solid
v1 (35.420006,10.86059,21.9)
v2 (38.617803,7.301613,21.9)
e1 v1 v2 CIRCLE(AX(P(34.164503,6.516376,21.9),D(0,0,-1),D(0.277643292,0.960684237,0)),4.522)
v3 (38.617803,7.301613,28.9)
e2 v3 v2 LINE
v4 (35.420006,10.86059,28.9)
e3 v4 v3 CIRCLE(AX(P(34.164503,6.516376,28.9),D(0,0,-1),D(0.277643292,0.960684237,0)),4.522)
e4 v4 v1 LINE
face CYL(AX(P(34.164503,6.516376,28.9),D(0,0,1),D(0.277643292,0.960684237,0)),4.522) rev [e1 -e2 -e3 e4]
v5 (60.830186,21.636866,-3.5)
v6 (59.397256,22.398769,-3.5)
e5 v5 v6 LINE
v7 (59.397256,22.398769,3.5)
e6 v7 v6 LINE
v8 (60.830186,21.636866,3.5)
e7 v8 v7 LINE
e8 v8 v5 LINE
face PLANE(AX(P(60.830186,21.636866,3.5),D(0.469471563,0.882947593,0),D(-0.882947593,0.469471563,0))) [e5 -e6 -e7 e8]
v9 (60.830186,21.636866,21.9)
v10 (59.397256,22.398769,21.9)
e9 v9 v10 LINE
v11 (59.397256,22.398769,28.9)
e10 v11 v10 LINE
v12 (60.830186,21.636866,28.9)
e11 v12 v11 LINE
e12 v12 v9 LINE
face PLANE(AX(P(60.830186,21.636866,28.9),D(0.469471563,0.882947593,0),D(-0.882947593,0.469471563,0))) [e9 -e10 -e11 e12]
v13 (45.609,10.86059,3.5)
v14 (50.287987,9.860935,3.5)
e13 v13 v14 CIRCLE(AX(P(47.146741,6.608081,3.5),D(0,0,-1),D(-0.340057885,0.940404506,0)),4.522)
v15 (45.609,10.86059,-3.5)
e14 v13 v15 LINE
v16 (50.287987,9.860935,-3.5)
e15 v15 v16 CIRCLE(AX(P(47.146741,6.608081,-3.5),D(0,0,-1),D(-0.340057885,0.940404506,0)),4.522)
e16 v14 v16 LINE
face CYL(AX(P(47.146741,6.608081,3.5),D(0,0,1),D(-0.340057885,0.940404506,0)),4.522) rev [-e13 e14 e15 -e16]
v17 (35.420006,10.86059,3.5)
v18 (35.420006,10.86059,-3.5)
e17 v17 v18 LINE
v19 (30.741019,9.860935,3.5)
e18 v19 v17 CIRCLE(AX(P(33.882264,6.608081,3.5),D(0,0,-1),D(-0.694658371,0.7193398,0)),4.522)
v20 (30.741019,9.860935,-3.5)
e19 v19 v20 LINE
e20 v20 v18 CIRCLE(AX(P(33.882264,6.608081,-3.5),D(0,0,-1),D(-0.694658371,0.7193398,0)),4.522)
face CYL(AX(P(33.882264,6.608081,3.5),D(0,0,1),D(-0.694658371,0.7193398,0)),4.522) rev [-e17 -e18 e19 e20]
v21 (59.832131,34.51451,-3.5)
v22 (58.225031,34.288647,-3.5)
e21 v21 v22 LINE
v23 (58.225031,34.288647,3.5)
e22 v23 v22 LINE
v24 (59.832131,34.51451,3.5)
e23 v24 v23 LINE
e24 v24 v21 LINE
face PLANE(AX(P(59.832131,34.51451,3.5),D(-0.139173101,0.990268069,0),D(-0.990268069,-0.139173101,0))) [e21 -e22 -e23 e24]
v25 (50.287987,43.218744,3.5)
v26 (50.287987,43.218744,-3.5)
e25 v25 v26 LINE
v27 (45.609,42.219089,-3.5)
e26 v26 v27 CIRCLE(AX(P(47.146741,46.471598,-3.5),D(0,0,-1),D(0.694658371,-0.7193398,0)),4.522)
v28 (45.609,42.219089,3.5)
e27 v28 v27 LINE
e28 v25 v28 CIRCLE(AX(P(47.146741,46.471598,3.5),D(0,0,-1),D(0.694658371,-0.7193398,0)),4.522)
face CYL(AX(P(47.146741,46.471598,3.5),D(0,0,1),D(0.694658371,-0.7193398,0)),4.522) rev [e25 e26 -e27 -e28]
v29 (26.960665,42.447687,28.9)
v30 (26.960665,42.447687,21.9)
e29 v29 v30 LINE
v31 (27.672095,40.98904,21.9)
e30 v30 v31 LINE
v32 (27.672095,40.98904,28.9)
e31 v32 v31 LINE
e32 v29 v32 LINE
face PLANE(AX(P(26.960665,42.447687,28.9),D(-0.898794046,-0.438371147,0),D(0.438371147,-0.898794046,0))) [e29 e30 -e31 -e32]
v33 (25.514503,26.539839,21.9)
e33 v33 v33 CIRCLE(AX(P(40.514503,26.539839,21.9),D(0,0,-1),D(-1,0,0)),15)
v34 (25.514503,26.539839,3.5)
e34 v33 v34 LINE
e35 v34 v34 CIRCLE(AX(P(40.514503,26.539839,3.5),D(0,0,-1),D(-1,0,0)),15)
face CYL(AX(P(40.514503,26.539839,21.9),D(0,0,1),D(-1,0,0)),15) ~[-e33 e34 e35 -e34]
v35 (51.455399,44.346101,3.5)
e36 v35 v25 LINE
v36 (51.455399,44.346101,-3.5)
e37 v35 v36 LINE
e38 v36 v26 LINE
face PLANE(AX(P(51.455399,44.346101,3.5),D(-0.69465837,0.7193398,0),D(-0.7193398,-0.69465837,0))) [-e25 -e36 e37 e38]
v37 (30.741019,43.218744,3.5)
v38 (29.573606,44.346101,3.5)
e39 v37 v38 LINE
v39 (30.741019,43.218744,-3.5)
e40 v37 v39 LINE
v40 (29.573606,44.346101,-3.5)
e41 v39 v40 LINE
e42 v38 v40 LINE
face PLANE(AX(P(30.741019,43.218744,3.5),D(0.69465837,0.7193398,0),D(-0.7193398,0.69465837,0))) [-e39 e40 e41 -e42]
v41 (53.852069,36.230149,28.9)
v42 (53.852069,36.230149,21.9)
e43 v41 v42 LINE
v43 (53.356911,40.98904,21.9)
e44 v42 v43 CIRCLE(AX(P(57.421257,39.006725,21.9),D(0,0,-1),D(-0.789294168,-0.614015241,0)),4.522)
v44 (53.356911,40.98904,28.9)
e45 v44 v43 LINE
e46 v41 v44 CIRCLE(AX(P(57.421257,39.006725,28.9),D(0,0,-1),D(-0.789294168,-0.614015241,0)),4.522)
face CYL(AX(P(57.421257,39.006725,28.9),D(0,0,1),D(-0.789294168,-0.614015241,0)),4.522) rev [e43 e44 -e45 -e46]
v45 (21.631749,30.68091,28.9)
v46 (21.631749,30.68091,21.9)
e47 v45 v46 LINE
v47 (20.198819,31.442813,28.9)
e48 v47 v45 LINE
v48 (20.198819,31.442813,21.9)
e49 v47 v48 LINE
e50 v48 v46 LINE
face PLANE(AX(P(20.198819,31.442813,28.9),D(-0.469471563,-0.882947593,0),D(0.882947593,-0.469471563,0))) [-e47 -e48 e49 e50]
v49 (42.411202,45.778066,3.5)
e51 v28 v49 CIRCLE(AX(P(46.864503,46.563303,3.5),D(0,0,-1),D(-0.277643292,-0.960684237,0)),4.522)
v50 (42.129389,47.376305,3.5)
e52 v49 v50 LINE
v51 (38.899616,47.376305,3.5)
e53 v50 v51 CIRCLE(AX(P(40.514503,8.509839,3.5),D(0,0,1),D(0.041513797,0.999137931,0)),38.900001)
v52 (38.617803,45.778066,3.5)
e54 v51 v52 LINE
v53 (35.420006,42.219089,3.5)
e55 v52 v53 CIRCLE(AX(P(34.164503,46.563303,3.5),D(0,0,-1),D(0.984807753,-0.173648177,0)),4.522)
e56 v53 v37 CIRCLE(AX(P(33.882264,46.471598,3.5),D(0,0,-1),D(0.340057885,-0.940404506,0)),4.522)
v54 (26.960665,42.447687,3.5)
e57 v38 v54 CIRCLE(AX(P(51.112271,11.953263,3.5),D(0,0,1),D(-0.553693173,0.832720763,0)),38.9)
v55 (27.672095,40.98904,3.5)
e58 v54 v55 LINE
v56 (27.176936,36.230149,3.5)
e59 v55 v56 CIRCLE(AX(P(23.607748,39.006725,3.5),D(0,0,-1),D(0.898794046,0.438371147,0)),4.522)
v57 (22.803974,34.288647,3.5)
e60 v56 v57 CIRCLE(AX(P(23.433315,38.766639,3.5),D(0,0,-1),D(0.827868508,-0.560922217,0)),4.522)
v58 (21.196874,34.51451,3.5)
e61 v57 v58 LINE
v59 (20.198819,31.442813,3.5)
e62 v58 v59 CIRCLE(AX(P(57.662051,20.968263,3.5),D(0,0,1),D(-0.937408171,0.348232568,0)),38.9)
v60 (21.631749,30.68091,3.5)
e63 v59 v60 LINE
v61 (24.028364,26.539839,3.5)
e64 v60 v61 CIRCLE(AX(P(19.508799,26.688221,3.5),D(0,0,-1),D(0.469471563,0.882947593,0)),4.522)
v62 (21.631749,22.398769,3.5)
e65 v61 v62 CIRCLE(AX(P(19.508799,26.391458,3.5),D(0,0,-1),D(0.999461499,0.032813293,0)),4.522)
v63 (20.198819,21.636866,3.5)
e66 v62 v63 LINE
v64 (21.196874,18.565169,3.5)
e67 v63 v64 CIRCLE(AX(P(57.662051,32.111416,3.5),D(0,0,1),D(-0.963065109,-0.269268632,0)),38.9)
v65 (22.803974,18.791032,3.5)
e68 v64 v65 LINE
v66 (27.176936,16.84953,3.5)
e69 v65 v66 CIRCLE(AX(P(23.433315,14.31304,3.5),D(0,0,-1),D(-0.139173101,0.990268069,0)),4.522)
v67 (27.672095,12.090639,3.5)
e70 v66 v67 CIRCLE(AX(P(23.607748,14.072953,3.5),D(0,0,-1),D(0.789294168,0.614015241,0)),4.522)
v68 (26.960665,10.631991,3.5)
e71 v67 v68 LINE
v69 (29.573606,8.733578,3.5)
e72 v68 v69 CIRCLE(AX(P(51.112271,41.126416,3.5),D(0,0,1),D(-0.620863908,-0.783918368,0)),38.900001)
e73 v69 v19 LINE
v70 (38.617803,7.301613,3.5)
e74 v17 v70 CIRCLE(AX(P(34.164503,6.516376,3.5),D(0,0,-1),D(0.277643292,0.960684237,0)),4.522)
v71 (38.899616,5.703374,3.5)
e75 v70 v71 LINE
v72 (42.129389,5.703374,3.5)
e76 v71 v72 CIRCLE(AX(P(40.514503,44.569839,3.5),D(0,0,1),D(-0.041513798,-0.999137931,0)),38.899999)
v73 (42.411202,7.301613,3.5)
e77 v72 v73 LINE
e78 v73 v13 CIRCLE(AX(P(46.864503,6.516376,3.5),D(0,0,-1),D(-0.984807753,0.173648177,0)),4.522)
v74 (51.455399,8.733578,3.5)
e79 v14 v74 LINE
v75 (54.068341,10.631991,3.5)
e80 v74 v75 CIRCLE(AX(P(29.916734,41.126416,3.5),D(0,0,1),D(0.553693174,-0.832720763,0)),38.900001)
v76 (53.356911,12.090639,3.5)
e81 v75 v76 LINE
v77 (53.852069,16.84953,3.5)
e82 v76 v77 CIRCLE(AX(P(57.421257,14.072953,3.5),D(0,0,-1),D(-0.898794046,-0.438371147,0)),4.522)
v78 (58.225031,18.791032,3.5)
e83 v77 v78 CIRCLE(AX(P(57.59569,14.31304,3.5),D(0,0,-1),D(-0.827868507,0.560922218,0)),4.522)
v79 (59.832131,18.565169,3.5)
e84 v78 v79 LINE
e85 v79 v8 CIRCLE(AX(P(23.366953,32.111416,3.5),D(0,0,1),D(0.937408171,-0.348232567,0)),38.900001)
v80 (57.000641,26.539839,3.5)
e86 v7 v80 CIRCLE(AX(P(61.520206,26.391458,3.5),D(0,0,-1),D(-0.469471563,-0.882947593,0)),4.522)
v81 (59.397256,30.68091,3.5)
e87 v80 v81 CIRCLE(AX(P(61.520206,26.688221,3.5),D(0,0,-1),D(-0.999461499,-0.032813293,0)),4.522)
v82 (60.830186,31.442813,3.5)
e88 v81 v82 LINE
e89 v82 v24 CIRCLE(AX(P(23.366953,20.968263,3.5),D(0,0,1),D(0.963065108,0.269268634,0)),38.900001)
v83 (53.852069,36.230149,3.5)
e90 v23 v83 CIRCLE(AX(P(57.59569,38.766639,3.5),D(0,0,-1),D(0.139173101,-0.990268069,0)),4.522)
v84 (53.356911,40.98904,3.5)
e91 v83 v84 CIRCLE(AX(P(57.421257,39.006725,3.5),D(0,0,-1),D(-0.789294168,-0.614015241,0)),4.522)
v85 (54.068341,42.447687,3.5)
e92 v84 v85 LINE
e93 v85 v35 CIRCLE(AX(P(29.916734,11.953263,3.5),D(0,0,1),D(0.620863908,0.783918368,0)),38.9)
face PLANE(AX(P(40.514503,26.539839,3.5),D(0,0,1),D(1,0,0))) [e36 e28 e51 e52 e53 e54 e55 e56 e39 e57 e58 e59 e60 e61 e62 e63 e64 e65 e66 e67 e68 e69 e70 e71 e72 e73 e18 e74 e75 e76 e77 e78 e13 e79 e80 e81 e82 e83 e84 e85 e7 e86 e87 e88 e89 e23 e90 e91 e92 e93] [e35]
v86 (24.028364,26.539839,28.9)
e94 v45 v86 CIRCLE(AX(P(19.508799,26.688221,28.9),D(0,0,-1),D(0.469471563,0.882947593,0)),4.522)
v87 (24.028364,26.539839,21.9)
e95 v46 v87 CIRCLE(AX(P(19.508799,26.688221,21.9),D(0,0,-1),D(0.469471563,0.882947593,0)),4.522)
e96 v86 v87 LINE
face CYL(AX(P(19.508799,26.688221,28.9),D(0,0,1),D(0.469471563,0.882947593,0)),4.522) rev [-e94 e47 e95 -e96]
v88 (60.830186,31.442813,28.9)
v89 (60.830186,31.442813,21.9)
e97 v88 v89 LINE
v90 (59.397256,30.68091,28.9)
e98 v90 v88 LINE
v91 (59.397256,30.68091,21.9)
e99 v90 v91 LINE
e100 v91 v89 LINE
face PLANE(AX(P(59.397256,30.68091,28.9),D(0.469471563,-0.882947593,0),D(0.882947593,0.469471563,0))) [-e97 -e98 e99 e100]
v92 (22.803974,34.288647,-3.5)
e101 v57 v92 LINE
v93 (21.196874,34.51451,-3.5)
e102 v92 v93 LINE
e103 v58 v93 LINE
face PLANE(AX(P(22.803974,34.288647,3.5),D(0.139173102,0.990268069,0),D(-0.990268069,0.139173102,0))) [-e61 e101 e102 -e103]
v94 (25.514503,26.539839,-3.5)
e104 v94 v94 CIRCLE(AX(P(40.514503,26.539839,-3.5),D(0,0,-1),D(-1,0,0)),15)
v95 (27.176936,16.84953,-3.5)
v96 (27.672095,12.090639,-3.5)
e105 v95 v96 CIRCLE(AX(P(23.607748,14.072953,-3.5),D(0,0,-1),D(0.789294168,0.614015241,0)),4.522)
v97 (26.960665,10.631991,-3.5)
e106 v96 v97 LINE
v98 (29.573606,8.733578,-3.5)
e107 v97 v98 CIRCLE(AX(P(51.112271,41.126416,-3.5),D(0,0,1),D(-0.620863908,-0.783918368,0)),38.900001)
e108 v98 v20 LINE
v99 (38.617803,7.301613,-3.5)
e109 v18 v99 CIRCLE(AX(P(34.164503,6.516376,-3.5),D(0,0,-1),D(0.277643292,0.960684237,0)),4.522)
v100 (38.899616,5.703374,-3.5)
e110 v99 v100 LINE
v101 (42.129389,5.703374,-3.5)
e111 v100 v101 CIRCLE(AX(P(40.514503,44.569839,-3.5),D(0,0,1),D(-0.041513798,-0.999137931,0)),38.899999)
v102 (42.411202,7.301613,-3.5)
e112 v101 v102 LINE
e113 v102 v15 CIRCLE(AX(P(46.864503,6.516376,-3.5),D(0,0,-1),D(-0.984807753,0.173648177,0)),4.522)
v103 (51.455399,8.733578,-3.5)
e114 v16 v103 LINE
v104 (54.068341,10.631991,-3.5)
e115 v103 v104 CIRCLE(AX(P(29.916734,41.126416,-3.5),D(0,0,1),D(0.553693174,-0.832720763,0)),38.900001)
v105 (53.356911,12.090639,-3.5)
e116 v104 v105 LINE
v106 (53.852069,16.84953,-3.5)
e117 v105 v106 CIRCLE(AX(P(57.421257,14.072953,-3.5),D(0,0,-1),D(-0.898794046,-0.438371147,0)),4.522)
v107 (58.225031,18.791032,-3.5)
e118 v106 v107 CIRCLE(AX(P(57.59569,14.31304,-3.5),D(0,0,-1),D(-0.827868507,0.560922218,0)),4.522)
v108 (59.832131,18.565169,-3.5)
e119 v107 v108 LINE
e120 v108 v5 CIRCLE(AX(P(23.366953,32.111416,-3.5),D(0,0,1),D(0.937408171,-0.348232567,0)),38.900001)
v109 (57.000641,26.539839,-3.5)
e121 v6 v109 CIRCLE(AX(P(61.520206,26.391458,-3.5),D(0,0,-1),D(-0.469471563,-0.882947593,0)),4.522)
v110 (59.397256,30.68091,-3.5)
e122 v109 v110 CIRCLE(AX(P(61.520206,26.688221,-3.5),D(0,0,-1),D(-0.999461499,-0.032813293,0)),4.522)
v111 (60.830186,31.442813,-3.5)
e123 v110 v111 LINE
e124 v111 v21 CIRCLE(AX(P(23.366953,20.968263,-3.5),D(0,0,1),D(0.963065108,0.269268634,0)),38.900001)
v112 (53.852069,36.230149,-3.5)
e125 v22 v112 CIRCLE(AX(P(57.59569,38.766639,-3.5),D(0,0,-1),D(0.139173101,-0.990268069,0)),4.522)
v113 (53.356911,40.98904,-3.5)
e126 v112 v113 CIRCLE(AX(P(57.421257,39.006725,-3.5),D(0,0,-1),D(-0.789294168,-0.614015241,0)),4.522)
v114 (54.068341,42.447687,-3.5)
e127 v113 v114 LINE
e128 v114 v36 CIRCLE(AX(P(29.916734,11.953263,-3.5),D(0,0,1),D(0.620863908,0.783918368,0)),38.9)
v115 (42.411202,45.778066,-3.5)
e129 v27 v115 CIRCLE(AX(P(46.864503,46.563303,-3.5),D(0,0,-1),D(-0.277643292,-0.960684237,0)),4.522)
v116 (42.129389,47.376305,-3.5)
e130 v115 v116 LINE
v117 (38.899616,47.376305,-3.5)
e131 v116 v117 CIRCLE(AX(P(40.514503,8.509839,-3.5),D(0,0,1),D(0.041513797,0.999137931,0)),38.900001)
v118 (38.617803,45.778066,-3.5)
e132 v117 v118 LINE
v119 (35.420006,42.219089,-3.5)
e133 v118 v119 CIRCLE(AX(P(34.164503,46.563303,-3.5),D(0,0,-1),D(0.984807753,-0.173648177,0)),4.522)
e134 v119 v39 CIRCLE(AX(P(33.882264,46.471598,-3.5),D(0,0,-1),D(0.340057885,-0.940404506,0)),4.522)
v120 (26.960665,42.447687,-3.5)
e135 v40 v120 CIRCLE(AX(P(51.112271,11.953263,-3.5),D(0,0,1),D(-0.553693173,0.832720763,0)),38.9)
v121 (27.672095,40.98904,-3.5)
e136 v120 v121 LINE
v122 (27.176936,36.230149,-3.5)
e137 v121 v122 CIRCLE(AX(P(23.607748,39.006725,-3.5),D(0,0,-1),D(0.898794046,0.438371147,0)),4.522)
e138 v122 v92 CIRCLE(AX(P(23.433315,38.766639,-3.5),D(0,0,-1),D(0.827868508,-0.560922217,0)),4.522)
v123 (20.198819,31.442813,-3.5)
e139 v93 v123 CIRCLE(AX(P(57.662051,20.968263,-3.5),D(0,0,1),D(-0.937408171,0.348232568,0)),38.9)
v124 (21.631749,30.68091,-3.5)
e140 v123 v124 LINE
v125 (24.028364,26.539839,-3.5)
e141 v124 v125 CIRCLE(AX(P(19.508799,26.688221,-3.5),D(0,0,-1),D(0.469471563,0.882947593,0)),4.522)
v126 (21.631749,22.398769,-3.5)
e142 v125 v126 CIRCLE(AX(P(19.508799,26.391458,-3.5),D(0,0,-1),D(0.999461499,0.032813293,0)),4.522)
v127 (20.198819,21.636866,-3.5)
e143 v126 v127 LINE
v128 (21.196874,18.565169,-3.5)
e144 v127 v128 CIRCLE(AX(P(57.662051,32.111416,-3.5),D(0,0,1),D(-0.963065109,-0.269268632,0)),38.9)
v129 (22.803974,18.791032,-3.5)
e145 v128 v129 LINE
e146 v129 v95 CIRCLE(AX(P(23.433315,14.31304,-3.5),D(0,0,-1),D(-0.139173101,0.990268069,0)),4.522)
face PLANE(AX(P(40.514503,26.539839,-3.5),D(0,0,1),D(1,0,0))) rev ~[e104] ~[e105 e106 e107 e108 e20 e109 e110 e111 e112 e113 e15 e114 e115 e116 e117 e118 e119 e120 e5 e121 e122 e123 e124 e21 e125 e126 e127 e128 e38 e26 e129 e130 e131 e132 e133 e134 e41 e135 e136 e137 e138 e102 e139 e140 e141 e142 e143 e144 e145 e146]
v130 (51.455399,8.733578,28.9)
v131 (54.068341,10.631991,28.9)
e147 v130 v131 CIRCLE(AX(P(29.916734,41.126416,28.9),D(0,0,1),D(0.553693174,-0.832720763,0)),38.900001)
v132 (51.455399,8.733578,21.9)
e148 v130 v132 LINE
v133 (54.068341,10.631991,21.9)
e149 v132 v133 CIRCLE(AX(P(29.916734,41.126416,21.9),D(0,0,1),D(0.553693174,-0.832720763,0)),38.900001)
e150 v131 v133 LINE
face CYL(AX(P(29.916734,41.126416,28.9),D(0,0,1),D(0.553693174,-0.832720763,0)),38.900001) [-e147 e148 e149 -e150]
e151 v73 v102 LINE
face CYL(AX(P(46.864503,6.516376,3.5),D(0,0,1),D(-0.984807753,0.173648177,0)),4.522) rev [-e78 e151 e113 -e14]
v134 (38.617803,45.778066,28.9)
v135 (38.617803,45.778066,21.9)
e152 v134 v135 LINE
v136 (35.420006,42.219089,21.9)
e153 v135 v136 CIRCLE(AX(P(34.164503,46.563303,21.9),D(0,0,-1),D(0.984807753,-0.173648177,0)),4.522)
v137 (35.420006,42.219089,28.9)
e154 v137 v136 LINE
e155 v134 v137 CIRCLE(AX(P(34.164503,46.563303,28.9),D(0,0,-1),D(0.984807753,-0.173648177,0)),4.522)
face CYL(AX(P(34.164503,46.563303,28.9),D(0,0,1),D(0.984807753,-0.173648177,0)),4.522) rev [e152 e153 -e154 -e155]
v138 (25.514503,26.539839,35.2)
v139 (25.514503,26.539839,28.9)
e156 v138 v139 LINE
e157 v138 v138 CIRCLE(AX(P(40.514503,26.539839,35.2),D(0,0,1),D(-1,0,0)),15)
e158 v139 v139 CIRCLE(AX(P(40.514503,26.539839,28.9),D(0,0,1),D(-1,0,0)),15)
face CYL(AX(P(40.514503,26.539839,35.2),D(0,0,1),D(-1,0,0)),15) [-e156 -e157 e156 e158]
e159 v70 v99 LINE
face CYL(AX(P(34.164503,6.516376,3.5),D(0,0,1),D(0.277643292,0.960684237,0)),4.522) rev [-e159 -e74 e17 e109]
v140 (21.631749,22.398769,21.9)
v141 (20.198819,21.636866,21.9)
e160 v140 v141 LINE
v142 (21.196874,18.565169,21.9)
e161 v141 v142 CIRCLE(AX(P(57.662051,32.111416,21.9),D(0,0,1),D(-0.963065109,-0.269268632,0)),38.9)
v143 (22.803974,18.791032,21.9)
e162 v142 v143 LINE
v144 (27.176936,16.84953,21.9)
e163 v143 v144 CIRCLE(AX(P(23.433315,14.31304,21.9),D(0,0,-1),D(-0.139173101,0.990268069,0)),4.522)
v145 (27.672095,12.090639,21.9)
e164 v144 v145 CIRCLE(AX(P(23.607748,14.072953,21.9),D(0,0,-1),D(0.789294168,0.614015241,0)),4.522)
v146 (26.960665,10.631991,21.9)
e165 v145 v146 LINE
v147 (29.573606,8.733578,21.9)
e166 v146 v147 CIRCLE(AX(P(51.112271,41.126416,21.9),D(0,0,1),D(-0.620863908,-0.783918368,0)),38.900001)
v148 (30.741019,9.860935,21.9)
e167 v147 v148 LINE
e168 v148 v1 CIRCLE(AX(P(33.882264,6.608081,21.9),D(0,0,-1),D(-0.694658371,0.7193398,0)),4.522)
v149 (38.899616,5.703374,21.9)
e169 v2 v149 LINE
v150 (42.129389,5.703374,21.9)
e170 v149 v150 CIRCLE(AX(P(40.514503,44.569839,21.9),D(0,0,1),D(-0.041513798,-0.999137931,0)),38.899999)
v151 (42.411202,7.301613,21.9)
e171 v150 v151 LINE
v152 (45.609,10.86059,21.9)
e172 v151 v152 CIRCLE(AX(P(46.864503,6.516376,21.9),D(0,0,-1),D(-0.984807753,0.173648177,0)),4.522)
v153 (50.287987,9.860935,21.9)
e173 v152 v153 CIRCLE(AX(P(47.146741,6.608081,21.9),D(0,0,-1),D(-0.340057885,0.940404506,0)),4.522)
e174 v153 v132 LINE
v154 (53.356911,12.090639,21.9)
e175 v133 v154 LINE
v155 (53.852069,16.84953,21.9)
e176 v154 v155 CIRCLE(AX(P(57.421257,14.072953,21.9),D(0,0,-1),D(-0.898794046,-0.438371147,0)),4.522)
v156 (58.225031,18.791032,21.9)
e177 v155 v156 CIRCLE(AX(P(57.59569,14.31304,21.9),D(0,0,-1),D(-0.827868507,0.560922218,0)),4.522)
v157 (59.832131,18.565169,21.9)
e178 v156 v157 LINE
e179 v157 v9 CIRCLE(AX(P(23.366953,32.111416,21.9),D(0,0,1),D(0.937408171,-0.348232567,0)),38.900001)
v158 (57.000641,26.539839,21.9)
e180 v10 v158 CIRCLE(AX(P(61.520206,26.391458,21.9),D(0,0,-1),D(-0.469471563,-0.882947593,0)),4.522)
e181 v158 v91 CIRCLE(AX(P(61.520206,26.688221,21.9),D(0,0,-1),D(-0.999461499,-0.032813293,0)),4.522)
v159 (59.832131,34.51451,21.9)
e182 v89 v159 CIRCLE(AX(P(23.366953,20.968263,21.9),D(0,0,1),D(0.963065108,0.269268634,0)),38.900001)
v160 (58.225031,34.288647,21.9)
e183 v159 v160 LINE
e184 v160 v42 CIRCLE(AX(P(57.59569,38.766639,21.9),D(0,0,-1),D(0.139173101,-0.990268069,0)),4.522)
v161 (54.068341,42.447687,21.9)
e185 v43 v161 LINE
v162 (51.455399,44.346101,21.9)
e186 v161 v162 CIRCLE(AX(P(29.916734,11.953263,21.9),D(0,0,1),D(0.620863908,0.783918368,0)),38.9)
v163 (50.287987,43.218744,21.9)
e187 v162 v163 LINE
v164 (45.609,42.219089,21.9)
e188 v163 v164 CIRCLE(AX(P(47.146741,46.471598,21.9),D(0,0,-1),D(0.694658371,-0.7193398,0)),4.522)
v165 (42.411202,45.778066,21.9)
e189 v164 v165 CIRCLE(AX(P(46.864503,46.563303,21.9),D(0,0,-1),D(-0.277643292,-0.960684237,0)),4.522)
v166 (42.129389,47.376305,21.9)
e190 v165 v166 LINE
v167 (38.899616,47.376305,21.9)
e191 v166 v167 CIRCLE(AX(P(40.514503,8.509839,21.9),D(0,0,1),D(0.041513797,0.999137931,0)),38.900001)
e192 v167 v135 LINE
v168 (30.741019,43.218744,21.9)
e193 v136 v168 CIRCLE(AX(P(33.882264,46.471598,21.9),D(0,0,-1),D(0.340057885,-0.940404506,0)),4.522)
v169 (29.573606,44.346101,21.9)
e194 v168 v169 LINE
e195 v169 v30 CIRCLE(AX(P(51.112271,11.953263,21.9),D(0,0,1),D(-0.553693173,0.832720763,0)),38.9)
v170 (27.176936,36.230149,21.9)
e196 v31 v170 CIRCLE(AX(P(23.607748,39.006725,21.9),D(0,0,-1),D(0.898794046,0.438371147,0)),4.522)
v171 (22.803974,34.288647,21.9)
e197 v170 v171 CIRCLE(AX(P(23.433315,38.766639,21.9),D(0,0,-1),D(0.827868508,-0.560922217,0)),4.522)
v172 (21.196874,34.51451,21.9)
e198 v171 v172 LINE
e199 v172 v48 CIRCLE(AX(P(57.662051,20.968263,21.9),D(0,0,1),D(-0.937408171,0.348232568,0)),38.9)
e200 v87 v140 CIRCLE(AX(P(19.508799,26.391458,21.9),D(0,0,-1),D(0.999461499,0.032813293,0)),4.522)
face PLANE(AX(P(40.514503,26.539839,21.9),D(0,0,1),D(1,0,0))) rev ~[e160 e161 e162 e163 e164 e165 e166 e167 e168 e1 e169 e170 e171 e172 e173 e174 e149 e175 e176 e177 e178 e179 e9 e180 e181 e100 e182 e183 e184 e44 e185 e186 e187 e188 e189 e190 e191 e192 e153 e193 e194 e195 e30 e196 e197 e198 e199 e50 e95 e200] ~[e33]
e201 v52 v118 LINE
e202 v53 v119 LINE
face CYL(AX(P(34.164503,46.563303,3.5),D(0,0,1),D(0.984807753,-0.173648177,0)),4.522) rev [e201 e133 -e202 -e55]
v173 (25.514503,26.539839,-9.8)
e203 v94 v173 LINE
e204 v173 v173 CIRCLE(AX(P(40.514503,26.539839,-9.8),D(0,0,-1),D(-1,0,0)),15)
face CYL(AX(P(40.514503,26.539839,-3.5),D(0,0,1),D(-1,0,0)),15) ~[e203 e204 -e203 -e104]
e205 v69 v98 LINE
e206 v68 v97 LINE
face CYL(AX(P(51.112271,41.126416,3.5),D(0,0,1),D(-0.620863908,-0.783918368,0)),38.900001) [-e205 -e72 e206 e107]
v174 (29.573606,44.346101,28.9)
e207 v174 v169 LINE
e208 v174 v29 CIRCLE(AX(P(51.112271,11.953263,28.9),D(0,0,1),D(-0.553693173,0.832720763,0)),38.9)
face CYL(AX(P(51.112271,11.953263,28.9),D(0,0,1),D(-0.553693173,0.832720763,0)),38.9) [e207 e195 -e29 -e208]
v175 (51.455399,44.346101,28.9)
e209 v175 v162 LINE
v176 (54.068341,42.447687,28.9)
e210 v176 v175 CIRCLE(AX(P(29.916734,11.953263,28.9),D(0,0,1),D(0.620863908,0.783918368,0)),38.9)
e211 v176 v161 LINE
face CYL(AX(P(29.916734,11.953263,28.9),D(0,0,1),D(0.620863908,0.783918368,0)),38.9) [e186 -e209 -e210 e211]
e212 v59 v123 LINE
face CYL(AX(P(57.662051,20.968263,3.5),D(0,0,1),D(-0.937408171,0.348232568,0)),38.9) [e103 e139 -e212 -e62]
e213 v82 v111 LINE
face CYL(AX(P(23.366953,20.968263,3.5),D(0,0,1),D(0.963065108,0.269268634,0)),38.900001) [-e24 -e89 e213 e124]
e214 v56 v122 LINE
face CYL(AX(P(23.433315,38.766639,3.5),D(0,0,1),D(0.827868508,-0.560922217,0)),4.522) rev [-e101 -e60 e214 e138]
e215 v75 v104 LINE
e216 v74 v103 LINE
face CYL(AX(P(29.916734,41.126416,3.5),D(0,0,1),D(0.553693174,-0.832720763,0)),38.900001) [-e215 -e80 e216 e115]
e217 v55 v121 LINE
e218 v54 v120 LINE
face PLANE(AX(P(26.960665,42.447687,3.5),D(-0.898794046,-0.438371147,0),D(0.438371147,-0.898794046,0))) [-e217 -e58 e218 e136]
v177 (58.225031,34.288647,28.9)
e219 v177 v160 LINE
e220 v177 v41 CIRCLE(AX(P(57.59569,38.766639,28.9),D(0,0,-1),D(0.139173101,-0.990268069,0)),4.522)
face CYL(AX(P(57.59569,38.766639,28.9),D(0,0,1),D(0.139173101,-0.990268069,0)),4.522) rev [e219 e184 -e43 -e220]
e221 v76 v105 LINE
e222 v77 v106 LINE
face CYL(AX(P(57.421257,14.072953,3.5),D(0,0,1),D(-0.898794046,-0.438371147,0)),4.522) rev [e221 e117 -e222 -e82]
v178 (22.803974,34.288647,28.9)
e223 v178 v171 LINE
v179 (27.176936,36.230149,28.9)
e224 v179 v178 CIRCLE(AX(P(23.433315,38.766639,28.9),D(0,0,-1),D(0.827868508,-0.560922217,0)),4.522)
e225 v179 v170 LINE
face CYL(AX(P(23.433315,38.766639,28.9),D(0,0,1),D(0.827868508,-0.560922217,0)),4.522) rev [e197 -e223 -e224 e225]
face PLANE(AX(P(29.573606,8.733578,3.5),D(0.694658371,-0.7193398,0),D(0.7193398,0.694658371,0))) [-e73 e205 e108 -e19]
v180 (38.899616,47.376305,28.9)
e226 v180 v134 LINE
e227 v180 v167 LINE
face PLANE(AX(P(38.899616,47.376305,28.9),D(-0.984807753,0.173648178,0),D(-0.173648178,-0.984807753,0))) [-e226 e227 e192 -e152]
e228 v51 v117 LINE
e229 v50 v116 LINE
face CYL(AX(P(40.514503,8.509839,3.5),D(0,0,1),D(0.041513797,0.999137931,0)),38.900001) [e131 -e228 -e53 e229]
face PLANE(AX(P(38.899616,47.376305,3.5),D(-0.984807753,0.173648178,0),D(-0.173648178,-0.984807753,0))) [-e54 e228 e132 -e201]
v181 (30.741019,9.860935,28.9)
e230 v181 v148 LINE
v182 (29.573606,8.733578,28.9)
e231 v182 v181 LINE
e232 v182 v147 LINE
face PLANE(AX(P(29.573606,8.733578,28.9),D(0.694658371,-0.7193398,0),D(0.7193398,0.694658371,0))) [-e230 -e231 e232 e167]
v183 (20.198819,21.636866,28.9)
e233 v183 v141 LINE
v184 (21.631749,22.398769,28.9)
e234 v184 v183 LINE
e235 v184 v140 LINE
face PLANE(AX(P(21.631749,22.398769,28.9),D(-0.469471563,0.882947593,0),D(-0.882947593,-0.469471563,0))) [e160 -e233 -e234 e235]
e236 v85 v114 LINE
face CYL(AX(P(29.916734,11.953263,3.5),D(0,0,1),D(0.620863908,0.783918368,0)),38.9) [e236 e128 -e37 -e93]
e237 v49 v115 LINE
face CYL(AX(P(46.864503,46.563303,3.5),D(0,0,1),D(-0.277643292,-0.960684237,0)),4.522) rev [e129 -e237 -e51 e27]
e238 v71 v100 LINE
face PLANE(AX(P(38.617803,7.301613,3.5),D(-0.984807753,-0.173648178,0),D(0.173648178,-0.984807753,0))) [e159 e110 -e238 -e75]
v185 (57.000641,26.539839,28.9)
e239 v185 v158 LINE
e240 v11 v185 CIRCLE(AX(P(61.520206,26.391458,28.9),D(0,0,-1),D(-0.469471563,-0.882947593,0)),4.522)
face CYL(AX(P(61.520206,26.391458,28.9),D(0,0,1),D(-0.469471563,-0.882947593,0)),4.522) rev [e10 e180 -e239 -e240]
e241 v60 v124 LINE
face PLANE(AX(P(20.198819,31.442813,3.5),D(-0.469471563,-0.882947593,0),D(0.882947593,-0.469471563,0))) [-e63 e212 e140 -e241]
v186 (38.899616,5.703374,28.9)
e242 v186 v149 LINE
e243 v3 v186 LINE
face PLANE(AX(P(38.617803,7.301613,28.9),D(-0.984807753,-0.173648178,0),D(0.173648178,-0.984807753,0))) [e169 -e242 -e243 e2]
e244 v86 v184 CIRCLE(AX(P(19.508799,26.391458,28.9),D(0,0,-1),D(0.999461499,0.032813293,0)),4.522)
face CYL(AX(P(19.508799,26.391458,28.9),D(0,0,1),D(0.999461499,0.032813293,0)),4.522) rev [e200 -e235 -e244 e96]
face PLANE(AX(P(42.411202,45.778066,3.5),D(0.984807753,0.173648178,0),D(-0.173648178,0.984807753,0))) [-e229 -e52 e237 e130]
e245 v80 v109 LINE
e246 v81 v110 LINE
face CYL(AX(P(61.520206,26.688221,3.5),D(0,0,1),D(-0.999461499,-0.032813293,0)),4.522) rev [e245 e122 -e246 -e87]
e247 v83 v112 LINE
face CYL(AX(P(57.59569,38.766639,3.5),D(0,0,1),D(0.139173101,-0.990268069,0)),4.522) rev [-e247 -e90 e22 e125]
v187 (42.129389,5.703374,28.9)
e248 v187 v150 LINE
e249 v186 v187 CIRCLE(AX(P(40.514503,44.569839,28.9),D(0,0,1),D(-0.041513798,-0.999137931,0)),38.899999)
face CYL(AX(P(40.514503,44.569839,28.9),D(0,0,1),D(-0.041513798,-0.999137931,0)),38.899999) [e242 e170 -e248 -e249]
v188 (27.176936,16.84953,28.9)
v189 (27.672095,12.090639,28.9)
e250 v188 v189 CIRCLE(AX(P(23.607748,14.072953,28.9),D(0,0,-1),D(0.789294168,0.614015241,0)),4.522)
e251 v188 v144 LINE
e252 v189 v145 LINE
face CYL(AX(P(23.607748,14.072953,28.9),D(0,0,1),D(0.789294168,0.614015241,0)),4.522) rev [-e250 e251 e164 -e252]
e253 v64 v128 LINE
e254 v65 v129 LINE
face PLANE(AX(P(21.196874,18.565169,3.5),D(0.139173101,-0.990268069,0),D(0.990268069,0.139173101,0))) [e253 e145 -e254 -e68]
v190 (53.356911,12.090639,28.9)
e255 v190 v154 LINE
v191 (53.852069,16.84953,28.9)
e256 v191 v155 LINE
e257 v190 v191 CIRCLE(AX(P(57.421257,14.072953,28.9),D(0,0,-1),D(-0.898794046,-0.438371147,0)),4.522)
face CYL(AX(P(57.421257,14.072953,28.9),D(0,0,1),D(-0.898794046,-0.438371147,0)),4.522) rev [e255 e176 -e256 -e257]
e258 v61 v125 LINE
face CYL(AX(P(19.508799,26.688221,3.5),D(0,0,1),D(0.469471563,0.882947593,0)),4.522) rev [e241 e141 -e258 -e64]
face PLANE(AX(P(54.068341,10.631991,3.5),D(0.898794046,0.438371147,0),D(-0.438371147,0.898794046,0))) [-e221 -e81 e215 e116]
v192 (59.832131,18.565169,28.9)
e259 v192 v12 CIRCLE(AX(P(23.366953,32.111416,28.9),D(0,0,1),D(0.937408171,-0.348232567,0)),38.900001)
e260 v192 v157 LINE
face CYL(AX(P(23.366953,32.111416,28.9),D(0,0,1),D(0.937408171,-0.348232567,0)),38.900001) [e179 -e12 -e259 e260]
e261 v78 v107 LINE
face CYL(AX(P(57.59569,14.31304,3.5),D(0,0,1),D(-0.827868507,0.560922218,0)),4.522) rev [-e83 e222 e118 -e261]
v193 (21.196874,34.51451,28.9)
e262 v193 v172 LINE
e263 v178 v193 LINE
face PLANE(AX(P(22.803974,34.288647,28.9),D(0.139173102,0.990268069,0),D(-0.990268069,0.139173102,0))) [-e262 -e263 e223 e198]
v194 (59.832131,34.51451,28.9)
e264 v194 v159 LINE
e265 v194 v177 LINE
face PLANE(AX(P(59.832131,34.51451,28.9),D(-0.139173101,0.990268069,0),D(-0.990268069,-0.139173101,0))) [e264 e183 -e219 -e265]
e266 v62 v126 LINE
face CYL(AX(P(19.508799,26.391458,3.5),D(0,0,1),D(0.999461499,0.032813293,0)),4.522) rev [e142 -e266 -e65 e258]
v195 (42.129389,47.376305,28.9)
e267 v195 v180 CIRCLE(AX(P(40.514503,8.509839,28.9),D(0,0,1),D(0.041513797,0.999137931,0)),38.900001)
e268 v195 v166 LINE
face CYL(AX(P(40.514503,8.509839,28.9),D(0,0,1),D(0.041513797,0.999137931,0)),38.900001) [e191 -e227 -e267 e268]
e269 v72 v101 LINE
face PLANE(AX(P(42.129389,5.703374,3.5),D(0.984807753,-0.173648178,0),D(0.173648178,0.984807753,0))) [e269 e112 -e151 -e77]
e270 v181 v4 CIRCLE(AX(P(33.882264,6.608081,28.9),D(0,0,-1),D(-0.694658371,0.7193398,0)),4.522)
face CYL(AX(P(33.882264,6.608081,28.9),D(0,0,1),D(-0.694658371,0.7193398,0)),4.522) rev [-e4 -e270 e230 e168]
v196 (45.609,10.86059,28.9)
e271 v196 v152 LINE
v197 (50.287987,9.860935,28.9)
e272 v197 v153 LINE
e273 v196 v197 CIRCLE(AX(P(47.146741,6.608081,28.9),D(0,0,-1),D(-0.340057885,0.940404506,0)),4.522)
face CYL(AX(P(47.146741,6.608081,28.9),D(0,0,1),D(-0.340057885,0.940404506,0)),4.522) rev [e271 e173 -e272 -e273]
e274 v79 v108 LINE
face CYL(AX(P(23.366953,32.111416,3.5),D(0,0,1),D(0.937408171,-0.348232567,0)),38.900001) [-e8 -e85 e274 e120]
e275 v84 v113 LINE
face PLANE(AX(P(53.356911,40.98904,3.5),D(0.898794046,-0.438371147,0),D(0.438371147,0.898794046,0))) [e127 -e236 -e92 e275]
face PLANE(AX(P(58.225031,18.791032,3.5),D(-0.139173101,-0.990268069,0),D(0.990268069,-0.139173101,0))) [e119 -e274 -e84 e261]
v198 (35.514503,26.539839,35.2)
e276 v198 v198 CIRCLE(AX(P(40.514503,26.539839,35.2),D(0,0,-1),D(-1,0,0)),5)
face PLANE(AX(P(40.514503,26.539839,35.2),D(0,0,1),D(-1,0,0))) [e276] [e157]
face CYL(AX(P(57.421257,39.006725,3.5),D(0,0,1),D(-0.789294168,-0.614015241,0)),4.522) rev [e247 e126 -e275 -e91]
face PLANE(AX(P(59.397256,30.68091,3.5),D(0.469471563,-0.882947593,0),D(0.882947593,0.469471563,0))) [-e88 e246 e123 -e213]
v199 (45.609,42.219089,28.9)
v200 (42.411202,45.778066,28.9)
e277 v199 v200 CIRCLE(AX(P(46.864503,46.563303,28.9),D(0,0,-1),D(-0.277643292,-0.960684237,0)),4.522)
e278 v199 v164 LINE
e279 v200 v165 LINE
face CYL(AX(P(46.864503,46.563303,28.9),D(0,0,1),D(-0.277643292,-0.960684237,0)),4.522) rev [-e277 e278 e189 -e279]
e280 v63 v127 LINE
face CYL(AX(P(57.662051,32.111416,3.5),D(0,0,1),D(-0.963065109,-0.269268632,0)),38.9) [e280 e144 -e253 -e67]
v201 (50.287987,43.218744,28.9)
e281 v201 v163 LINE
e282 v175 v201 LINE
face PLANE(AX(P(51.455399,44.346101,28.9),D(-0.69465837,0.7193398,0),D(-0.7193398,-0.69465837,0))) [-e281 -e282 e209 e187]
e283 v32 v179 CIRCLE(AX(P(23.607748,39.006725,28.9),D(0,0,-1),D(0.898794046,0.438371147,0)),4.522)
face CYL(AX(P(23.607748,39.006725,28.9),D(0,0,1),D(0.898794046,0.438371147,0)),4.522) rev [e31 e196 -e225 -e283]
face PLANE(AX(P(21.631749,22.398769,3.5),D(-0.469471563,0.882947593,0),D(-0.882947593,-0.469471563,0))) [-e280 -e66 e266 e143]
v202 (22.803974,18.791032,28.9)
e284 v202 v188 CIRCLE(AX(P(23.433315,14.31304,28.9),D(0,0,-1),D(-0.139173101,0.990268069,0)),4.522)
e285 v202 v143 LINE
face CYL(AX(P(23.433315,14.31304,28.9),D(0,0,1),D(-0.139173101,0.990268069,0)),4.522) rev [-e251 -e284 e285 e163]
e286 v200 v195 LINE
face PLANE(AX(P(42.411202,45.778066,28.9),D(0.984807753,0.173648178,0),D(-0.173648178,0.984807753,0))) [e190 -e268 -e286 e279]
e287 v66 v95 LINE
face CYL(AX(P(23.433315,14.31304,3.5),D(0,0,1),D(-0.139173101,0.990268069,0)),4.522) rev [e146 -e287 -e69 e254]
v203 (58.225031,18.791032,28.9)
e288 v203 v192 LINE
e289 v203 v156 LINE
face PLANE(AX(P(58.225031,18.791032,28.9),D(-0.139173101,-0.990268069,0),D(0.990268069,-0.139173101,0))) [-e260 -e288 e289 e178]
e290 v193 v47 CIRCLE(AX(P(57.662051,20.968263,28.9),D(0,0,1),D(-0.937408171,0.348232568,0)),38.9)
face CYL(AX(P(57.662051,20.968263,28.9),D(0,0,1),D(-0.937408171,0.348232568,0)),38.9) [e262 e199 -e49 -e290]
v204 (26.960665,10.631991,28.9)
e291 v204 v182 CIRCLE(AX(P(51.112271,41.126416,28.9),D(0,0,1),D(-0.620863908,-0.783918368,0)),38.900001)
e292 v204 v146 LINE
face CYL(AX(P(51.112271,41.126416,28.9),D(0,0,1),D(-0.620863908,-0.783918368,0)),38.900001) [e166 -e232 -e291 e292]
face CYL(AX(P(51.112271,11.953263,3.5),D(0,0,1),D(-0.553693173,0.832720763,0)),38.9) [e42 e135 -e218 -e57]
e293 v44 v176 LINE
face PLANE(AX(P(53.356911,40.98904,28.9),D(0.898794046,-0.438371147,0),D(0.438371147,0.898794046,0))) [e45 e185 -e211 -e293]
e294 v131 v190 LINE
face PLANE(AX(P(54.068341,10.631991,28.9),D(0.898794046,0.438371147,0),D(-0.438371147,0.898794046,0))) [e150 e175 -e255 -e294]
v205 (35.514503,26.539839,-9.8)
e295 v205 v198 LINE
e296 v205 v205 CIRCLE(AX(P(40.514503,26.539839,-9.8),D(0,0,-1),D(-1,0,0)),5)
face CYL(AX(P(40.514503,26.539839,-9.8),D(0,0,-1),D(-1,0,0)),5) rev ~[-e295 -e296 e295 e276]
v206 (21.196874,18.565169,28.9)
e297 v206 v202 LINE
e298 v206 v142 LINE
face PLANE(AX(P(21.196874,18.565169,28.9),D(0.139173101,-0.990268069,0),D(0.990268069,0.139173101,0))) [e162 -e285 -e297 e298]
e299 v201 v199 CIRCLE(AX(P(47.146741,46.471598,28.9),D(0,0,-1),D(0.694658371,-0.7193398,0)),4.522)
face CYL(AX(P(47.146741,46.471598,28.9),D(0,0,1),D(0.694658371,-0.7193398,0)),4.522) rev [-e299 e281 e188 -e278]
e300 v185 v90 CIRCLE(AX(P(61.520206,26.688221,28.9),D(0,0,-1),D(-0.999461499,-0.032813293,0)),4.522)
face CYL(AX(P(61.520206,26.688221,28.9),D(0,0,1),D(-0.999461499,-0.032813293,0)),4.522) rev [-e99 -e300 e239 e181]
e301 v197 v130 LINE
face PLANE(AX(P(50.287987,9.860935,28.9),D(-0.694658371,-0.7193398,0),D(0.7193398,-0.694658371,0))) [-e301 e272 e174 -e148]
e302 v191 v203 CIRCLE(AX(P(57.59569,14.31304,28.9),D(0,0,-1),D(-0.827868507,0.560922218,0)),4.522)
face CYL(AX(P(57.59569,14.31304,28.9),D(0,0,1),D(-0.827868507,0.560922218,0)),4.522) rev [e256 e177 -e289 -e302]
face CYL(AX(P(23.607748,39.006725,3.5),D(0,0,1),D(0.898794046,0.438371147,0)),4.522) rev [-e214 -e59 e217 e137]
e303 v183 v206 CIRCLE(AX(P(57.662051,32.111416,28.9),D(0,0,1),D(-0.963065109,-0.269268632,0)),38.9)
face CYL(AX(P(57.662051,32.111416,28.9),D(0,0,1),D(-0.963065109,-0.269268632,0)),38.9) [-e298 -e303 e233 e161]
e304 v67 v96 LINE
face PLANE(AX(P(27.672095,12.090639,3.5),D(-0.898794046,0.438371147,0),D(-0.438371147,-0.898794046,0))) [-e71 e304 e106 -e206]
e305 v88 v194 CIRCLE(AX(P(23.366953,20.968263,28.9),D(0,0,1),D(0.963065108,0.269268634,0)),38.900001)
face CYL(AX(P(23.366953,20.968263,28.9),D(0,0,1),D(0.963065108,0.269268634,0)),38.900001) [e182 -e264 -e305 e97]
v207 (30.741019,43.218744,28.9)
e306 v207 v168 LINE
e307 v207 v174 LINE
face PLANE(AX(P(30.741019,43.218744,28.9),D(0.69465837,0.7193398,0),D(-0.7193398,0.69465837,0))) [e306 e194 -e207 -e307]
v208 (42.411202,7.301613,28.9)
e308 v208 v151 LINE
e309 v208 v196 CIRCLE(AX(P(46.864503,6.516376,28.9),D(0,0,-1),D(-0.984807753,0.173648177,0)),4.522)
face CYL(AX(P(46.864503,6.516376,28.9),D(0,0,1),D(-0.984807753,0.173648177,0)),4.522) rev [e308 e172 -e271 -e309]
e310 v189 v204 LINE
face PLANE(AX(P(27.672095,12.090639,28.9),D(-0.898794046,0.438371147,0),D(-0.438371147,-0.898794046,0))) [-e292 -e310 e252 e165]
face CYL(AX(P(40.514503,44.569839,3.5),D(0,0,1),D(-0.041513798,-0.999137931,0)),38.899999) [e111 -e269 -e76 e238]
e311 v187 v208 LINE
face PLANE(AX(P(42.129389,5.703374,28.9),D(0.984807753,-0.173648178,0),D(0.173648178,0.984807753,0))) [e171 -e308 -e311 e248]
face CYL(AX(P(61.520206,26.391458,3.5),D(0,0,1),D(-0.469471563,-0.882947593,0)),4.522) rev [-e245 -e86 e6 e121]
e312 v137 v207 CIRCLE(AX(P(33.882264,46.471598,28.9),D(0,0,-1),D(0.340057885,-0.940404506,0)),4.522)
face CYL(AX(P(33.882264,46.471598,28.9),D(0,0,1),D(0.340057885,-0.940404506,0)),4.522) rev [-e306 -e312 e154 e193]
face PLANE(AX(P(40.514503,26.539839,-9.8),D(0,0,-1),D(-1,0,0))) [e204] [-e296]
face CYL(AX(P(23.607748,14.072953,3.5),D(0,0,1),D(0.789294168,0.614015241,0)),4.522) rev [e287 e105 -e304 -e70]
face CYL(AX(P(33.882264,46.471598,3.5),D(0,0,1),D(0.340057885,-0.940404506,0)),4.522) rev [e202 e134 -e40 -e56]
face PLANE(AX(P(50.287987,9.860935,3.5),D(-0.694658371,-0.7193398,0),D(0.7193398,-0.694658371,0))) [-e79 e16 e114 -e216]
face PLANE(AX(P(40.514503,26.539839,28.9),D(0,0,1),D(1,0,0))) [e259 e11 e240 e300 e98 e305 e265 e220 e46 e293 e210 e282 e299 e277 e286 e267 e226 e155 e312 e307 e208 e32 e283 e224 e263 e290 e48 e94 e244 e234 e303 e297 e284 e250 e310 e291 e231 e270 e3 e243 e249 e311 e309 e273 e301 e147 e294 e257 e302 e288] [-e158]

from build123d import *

# Parameters (mm, degrees)
EXTRUDE_1_DEPTH     = 7
SKETCH_2_R          = 15
EXTRUDE_2_DEPTH     = 18.4
EXTRUDE_3_DEPTH     = 7
EXTRUDE_START       = 6.3
SKETCH_4_R          = 15
EXTRUDE_4_DEPTH     = 6.3
SKETCH_5_R          = 15
EXTRUDE_5_DEPTH     = 6.3
SKETCH_6_R          = 5
CUT_EXTRUDE_1_DEPTH = 90.291681756


with BuildPart() as part:
    # 草图1 → 凸台-拉伸1 (new body)
    with BuildSketch(Plane.XY.offset(28.9)):
        with BuildLine():
            Line((42.411201909, 45.77806603), (42.129389286, 47.376304833))
            ThreePointArc((42.129389286, 47.376304833), (40.514502568, 47.409839327), (38.89961585, 47.376304833))
            Line((38.89961585, 47.376304833), (38.617803227, 45.77806603))
            ThreePointArc((38.617803227, 45.77806603), (37.528159676, 43.541003491), (35.420005537, 42.219088972))
            ThreePointArc((35.420005537, 42.219088972), (32.937471152, 42.04939837), (30.741018632, 43.218743572))
            Line((30.741018632, 43.218743572), (29.573606233, 44.346100621))
            ThreePointArc((29.573606233, 44.346100621), (28.247424353, 43.424024), (26.960664635, 42.447687427))
            Line((26.960664635, 42.447687427), (27.672094632, 40.98903977))
            ThreePointArc((27.672094632, 40.98903977), (28.10546685, 38.538741749), (27.176936184, 36.230148526))
            ThreePointArc((27.176936184, 36.230148526), (25.268265311, 34.633668845), (22.80397403, 34.288646587))
            Line((22.80397403, 34.288646587), (21.196873713, 34.514509808))
            ThreePointArc((21.196873713, 34.514509808), (20.665953073, 32.989024), (20.198818833, 31.442812735))
            Line((20.198818833, 31.442812735), (21.631749371, 30.680910052))
            ThreePointArc((21.631749371, 30.680910052), (23.422603901, 28.95330711), (24.028363863, 26.539839327))
            ThreePointArc((24.028363863, 26.539839327), (23.422603901, 24.126371544), (21.631749371, 22.398768602))
            Line((21.631749371, 22.398768602), (20.198818833, 21.63686592))
            ThreePointArc((20.198818833, 21.63686592), (20.665953073, 20.090654655), (21.196873713, 18.565168847))
            Line((21.196873713, 18.565168847), (22.80397403, 18.791032067))
            ThreePointArc((22.80397403, 18.791032067), (25.268265311, 18.446009809), (27.176936184, 16.849530129))
            ThreePointArc((27.176936184, 16.849530129), (28.10546685, 14.540936905), (27.672094632, 12.090638884))
            Line((27.672094632, 12.090638884), (26.960664635, 10.631991228))
            ThreePointArc((26.960664635, 10.631991228), (28.247424353, 9.655654655), (29.573606233, 8.733578033))
            Line((29.573606233, 8.733578033), (30.741018632, 9.860935083))
            ThreePointArc((30.741018632, 9.860935083), (32.937471152, 11.030280285), (35.420005536, 10.860589683))
            ThreePointArc((35.420005536, 10.860589683), (37.528159676, 9.538675164), (38.617803227, 7.301612625))
            Line((38.617803227, 7.301612625), (38.89961585, 5.703373822))
            ThreePointArc((38.89961585, 5.703373822), (40.514502568, 5.669839327), (42.129389286, 5.703373822))
            Line((42.129389286, 5.703373822), (42.411201909, 7.301612625))
            ThreePointArc((42.411201909, 7.301612625), (43.50084546, 9.538675164), (45.6089996, 10.860589683))
            ThreePointArc((45.6089996, 10.860589683), (48.091533984, 11.030280285), (50.287986504, 9.860935083))
            Line((50.287986504, 9.860935083), (51.455398903, 8.733578033))
            ThreePointArc((51.455398903, 8.733578033), (52.781580783, 9.655654655), (54.068340501, 10.631991228))
            Line((54.068340501, 10.631991228), (53.356910504, 12.090638884))
            ThreePointArc((53.356910504, 12.090638884), (52.923538286, 14.540936905), (53.852068952, 16.849530129))
            ThreePointArc((53.852068952, 16.849530129), (55.760739826, 18.446009809), (58.225031106, 18.791032067))
            Line((58.225031106, 18.791032067), (59.832131424, 18.565168847))
            ThreePointArc((59.832131424, 18.565168847), (60.363052063, 20.090654655), (60.830186304, 21.63686592))
            Line((60.830186304, 21.63686592), (59.397255765, 22.398768602))
            ThreePointArc((59.397255765, 22.398768602), (57.606401235, 24.126371544), (57.000641274, 26.539839327))
            ThreePointArc((57.000641274, 26.539839327), (57.606401235, 28.95330711), (59.397255765, 30.680910052))
            Line((59.397255765, 30.680910052), (60.830186304, 31.442812735))
            ThreePointArc((60.830186304, 31.442812735), (60.363052063, 32.989024), (59.832131424, 34.514509808))
            Line((59.832131424, 34.514509808), (58.225031106, 34.288646587))
            ThreePointArc((58.225031106, 34.288646587), (55.760739826, 34.633668845), (53.852068952, 36.230148526))
            ThreePointArc((53.852068952, 36.230148526), (52.923538286, 38.538741749), (53.356910504, 40.98903977))
            Line((53.356910504, 40.98903977), (54.068340501, 42.447687427))
            ThreePointArc((54.068340501, 42.447687427), (52.781580783, 43.424024), (51.455398903, 44.346100621))
            Line((51.455398903, 44.346100621), (50.287986504, 43.218743572))
            ThreePointArc((50.287986504, 43.218743572), (48.091533984, 42.04939837), (45.6089996, 42.219088972))
            ThreePointArc((45.6089996, 42.219088972), (43.50084546, 43.541003491), (42.411201909, 45.77806603))
        make_face()
    extrude(amount=-EXTRUDE_1_DEPTH)

    # 草图2 → 凸台-拉伸2 (add)
    with BuildSketch(Plane(origin=(0, 0, 21.9), x_dir=(-1, 0, 0), z_dir=(0, 0, -1))):
        with Locations((-40.514502568, 26.539839327)):
            Circle(SKETCH_2_R)
    extrude(amount=EXTRUDE_2_DEPTH)

    # 草图3 → 凸台-拉伸3 (add)
    with BuildSketch(Plane.XY.offset(3.5)):
        with BuildLine():
            Line((42.411201909, 45.77806603), (42.129389286, 47.376304833))
            ThreePointArc((42.129389286, 47.376304833), (40.514502568, 47.409839327), (38.89961585, 47.376304833))
            Line((38.89961585, 47.376304833), (38.617803227, 45.77806603))
            ThreePointArc((38.617803227, 45.77806603), (37.528159676, 43.541003491), (35.420005537, 42.219088972))
            ThreePointArc((35.420005537, 42.219088972), (32.937471152, 42.04939837), (30.741018632, 43.218743572))
            Line((30.741018632, 43.218743572), (29.573606233, 44.346100621))
            ThreePointArc((29.573606233, 44.346100621), (28.247424353, 43.424024), (26.960664635, 42.447687427))
            Line((26.960664635, 42.447687427), (27.672094632, 40.98903977))
            ThreePointArc((27.672094632, 40.98903977), (28.10546685, 38.538741749), (27.176936184, 36.230148526))
            ThreePointArc((27.176936184, 36.230148526), (25.268265311, 34.633668845), (22.80397403, 34.288646587))
            Line((22.80397403, 34.288646587), (21.196873713, 34.514509808))
            ThreePointArc((21.196873713, 34.514509808), (20.665953073, 32.989024), (20.198818833, 31.442812735))
            Line((20.198818833, 31.442812735), (21.631749371, 30.680910052))
            ThreePointArc((21.631749371, 30.680910052), (23.422603901, 28.95330711), (24.028363863, 26.539839327))
            ThreePointArc((24.028363863, 26.539839327), (23.422603901, 24.126371544), (21.631749371, 22.398768602))
            Line((21.631749371, 22.398768602), (20.198818833, 21.63686592))
            ThreePointArc((20.198818833, 21.63686592), (20.665953073, 20.090654655), (21.196873713, 18.565168847))
            Line((21.196873713, 18.565168847), (22.80397403, 18.791032067))
            ThreePointArc((22.80397403, 18.791032067), (25.268265311, 18.446009809), (27.176936184, 16.849530129))
            ThreePointArc((27.176936184, 16.849530129), (28.10546685, 14.540936905), (27.672094632, 12.090638884))
            Line((27.672094632, 12.090638884), (26.960664635, 10.631991228))
            ThreePointArc((26.960664635, 10.631991228), (28.247424353, 9.655654655), (29.573606233, 8.733578033))
            Line((29.573606233, 8.733578033), (30.741018632, 9.860935083))
            ThreePointArc((30.741018632, 9.860935083), (32.937471152, 11.030280285), (35.420005536, 10.860589683))
            ThreePointArc((35.420005536, 10.860589683), (37.528159676, 9.538675164), (38.617803227, 7.301612625))
            Line((38.617803227, 7.301612625), (38.89961585, 5.703373822))
            ThreePointArc((38.89961585, 5.703373822), (40.514502568, 5.669839327), (42.129389286, 5.703373822))
            Line((42.129389286, 5.703373822), (42.411201909, 7.301612625))
            ThreePointArc((42.411201909, 7.301612625), (43.50084546, 9.538675164), (45.6089996, 10.860589683))
            ThreePointArc((45.6089996, 10.860589683), (48.091533984, 11.030280285), (50.287986504, 9.860935083))
            Line((50.287986504, 9.860935083), (51.455398903, 8.733578033))
            ThreePointArc((51.455398903, 8.733578033), (52.781580783, 9.655654655), (54.068340501, 10.631991228))
            Line((54.068340501, 10.631991228), (53.356910504, 12.090638884))
            ThreePointArc((53.356910504, 12.090638884), (52.923538286, 14.540936905), (53.852068952, 16.849530129))
            ThreePointArc((53.852068952, 16.849530129), (55.760739826, 18.446009809), (58.225031106, 18.791032067))
            Line((58.225031106, 18.791032067), (59.832131424, 18.565168847))
            ThreePointArc((59.832131424, 18.565168847), (60.363052063, 20.090654655), (60.830186304, 21.63686592))
            Line((60.830186304, 21.63686592), (59.397255765, 22.398768602))
            ThreePointArc((59.397255765, 22.398768602), (57.606401235, 24.126371544), (57.000641274, 26.539839327))
            ThreePointArc((57.000641274, 26.539839327), (57.606401235, 28.95330711), (59.397255765, 30.680910052))
            Line((59.397255765, 30.680910052), (60.830186304, 31.442812735))
            ThreePointArc((60.830186304, 31.442812735), (60.363052063, 32.989024), (59.832131424, 34.514509808))
            Line((59.832131424, 34.514509808), (58.225031106, 34.288646587))
            ThreePointArc((58.225031106, 34.288646587), (55.760739826, 34.633668845), (53.852068952, 36.230148526))
            ThreePointArc((53.852068952, 36.230148526), (52.923538286, 38.538741749), (53.356910504, 40.98903977))
            Line((53.356910504, 40.98903977), (54.068340501, 42.447687427))
            ThreePointArc((54.068340501, 42.447687427), (52.781580783, 43.424024), (51.455398903, 44.346100621))
            Line((51.455398903, 44.346100621), (50.287986504, 43.218743572))
            ThreePointArc((50.287986504, 43.218743572), (48.091533984, 42.04939837), (45.6089996, 42.219088972))
            ThreePointArc((45.6089996, 42.219088972), (43.50084546, 43.541003491), (42.411201909, 45.77806603))
        make_face()
    extrude(amount=-EXTRUDE_3_DEPTH)

    # 草图4 → 凸台-拉伸4 (add)
    with BuildSketch(Plane.XY.offset(28.9).offset(EXTRUDE_START)):
        with Locations(Location((40.514502568, 26.539839327, 0), (0, 0, 180))):
            Circle(SKETCH_4_R)
    extrude(amount=-EXTRUDE_4_DEPTH)

    # 草图5 → 凸台-拉伸5 (add)
    with BuildSketch(Plane(origin=(0, 0, -3.5), x_dir=(-1, 0, 0), z_dir=(0, 0, -1))):
        with Locations((-40.514502568, 26.539839327)):
            Circle(SKETCH_5_R)
    extrude(amount=EXTRUDE_5_DEPTH)

    # 草图6 → 切除-拉伸1 (cut, through all)
    with BuildSketch(Plane(origin=(0, 0, -9.8), x_dir=(-1, 0, 0), z_dir=(0, 0, -1))):
        with Locations((-40.514502568, 26.539839327)):
            Circle(SKETCH_6_R)
    extrude(amount=-CUT_EXTRUDE_1_DEPTH, mode=Mode.SUBTRACT)


solid = part.part
